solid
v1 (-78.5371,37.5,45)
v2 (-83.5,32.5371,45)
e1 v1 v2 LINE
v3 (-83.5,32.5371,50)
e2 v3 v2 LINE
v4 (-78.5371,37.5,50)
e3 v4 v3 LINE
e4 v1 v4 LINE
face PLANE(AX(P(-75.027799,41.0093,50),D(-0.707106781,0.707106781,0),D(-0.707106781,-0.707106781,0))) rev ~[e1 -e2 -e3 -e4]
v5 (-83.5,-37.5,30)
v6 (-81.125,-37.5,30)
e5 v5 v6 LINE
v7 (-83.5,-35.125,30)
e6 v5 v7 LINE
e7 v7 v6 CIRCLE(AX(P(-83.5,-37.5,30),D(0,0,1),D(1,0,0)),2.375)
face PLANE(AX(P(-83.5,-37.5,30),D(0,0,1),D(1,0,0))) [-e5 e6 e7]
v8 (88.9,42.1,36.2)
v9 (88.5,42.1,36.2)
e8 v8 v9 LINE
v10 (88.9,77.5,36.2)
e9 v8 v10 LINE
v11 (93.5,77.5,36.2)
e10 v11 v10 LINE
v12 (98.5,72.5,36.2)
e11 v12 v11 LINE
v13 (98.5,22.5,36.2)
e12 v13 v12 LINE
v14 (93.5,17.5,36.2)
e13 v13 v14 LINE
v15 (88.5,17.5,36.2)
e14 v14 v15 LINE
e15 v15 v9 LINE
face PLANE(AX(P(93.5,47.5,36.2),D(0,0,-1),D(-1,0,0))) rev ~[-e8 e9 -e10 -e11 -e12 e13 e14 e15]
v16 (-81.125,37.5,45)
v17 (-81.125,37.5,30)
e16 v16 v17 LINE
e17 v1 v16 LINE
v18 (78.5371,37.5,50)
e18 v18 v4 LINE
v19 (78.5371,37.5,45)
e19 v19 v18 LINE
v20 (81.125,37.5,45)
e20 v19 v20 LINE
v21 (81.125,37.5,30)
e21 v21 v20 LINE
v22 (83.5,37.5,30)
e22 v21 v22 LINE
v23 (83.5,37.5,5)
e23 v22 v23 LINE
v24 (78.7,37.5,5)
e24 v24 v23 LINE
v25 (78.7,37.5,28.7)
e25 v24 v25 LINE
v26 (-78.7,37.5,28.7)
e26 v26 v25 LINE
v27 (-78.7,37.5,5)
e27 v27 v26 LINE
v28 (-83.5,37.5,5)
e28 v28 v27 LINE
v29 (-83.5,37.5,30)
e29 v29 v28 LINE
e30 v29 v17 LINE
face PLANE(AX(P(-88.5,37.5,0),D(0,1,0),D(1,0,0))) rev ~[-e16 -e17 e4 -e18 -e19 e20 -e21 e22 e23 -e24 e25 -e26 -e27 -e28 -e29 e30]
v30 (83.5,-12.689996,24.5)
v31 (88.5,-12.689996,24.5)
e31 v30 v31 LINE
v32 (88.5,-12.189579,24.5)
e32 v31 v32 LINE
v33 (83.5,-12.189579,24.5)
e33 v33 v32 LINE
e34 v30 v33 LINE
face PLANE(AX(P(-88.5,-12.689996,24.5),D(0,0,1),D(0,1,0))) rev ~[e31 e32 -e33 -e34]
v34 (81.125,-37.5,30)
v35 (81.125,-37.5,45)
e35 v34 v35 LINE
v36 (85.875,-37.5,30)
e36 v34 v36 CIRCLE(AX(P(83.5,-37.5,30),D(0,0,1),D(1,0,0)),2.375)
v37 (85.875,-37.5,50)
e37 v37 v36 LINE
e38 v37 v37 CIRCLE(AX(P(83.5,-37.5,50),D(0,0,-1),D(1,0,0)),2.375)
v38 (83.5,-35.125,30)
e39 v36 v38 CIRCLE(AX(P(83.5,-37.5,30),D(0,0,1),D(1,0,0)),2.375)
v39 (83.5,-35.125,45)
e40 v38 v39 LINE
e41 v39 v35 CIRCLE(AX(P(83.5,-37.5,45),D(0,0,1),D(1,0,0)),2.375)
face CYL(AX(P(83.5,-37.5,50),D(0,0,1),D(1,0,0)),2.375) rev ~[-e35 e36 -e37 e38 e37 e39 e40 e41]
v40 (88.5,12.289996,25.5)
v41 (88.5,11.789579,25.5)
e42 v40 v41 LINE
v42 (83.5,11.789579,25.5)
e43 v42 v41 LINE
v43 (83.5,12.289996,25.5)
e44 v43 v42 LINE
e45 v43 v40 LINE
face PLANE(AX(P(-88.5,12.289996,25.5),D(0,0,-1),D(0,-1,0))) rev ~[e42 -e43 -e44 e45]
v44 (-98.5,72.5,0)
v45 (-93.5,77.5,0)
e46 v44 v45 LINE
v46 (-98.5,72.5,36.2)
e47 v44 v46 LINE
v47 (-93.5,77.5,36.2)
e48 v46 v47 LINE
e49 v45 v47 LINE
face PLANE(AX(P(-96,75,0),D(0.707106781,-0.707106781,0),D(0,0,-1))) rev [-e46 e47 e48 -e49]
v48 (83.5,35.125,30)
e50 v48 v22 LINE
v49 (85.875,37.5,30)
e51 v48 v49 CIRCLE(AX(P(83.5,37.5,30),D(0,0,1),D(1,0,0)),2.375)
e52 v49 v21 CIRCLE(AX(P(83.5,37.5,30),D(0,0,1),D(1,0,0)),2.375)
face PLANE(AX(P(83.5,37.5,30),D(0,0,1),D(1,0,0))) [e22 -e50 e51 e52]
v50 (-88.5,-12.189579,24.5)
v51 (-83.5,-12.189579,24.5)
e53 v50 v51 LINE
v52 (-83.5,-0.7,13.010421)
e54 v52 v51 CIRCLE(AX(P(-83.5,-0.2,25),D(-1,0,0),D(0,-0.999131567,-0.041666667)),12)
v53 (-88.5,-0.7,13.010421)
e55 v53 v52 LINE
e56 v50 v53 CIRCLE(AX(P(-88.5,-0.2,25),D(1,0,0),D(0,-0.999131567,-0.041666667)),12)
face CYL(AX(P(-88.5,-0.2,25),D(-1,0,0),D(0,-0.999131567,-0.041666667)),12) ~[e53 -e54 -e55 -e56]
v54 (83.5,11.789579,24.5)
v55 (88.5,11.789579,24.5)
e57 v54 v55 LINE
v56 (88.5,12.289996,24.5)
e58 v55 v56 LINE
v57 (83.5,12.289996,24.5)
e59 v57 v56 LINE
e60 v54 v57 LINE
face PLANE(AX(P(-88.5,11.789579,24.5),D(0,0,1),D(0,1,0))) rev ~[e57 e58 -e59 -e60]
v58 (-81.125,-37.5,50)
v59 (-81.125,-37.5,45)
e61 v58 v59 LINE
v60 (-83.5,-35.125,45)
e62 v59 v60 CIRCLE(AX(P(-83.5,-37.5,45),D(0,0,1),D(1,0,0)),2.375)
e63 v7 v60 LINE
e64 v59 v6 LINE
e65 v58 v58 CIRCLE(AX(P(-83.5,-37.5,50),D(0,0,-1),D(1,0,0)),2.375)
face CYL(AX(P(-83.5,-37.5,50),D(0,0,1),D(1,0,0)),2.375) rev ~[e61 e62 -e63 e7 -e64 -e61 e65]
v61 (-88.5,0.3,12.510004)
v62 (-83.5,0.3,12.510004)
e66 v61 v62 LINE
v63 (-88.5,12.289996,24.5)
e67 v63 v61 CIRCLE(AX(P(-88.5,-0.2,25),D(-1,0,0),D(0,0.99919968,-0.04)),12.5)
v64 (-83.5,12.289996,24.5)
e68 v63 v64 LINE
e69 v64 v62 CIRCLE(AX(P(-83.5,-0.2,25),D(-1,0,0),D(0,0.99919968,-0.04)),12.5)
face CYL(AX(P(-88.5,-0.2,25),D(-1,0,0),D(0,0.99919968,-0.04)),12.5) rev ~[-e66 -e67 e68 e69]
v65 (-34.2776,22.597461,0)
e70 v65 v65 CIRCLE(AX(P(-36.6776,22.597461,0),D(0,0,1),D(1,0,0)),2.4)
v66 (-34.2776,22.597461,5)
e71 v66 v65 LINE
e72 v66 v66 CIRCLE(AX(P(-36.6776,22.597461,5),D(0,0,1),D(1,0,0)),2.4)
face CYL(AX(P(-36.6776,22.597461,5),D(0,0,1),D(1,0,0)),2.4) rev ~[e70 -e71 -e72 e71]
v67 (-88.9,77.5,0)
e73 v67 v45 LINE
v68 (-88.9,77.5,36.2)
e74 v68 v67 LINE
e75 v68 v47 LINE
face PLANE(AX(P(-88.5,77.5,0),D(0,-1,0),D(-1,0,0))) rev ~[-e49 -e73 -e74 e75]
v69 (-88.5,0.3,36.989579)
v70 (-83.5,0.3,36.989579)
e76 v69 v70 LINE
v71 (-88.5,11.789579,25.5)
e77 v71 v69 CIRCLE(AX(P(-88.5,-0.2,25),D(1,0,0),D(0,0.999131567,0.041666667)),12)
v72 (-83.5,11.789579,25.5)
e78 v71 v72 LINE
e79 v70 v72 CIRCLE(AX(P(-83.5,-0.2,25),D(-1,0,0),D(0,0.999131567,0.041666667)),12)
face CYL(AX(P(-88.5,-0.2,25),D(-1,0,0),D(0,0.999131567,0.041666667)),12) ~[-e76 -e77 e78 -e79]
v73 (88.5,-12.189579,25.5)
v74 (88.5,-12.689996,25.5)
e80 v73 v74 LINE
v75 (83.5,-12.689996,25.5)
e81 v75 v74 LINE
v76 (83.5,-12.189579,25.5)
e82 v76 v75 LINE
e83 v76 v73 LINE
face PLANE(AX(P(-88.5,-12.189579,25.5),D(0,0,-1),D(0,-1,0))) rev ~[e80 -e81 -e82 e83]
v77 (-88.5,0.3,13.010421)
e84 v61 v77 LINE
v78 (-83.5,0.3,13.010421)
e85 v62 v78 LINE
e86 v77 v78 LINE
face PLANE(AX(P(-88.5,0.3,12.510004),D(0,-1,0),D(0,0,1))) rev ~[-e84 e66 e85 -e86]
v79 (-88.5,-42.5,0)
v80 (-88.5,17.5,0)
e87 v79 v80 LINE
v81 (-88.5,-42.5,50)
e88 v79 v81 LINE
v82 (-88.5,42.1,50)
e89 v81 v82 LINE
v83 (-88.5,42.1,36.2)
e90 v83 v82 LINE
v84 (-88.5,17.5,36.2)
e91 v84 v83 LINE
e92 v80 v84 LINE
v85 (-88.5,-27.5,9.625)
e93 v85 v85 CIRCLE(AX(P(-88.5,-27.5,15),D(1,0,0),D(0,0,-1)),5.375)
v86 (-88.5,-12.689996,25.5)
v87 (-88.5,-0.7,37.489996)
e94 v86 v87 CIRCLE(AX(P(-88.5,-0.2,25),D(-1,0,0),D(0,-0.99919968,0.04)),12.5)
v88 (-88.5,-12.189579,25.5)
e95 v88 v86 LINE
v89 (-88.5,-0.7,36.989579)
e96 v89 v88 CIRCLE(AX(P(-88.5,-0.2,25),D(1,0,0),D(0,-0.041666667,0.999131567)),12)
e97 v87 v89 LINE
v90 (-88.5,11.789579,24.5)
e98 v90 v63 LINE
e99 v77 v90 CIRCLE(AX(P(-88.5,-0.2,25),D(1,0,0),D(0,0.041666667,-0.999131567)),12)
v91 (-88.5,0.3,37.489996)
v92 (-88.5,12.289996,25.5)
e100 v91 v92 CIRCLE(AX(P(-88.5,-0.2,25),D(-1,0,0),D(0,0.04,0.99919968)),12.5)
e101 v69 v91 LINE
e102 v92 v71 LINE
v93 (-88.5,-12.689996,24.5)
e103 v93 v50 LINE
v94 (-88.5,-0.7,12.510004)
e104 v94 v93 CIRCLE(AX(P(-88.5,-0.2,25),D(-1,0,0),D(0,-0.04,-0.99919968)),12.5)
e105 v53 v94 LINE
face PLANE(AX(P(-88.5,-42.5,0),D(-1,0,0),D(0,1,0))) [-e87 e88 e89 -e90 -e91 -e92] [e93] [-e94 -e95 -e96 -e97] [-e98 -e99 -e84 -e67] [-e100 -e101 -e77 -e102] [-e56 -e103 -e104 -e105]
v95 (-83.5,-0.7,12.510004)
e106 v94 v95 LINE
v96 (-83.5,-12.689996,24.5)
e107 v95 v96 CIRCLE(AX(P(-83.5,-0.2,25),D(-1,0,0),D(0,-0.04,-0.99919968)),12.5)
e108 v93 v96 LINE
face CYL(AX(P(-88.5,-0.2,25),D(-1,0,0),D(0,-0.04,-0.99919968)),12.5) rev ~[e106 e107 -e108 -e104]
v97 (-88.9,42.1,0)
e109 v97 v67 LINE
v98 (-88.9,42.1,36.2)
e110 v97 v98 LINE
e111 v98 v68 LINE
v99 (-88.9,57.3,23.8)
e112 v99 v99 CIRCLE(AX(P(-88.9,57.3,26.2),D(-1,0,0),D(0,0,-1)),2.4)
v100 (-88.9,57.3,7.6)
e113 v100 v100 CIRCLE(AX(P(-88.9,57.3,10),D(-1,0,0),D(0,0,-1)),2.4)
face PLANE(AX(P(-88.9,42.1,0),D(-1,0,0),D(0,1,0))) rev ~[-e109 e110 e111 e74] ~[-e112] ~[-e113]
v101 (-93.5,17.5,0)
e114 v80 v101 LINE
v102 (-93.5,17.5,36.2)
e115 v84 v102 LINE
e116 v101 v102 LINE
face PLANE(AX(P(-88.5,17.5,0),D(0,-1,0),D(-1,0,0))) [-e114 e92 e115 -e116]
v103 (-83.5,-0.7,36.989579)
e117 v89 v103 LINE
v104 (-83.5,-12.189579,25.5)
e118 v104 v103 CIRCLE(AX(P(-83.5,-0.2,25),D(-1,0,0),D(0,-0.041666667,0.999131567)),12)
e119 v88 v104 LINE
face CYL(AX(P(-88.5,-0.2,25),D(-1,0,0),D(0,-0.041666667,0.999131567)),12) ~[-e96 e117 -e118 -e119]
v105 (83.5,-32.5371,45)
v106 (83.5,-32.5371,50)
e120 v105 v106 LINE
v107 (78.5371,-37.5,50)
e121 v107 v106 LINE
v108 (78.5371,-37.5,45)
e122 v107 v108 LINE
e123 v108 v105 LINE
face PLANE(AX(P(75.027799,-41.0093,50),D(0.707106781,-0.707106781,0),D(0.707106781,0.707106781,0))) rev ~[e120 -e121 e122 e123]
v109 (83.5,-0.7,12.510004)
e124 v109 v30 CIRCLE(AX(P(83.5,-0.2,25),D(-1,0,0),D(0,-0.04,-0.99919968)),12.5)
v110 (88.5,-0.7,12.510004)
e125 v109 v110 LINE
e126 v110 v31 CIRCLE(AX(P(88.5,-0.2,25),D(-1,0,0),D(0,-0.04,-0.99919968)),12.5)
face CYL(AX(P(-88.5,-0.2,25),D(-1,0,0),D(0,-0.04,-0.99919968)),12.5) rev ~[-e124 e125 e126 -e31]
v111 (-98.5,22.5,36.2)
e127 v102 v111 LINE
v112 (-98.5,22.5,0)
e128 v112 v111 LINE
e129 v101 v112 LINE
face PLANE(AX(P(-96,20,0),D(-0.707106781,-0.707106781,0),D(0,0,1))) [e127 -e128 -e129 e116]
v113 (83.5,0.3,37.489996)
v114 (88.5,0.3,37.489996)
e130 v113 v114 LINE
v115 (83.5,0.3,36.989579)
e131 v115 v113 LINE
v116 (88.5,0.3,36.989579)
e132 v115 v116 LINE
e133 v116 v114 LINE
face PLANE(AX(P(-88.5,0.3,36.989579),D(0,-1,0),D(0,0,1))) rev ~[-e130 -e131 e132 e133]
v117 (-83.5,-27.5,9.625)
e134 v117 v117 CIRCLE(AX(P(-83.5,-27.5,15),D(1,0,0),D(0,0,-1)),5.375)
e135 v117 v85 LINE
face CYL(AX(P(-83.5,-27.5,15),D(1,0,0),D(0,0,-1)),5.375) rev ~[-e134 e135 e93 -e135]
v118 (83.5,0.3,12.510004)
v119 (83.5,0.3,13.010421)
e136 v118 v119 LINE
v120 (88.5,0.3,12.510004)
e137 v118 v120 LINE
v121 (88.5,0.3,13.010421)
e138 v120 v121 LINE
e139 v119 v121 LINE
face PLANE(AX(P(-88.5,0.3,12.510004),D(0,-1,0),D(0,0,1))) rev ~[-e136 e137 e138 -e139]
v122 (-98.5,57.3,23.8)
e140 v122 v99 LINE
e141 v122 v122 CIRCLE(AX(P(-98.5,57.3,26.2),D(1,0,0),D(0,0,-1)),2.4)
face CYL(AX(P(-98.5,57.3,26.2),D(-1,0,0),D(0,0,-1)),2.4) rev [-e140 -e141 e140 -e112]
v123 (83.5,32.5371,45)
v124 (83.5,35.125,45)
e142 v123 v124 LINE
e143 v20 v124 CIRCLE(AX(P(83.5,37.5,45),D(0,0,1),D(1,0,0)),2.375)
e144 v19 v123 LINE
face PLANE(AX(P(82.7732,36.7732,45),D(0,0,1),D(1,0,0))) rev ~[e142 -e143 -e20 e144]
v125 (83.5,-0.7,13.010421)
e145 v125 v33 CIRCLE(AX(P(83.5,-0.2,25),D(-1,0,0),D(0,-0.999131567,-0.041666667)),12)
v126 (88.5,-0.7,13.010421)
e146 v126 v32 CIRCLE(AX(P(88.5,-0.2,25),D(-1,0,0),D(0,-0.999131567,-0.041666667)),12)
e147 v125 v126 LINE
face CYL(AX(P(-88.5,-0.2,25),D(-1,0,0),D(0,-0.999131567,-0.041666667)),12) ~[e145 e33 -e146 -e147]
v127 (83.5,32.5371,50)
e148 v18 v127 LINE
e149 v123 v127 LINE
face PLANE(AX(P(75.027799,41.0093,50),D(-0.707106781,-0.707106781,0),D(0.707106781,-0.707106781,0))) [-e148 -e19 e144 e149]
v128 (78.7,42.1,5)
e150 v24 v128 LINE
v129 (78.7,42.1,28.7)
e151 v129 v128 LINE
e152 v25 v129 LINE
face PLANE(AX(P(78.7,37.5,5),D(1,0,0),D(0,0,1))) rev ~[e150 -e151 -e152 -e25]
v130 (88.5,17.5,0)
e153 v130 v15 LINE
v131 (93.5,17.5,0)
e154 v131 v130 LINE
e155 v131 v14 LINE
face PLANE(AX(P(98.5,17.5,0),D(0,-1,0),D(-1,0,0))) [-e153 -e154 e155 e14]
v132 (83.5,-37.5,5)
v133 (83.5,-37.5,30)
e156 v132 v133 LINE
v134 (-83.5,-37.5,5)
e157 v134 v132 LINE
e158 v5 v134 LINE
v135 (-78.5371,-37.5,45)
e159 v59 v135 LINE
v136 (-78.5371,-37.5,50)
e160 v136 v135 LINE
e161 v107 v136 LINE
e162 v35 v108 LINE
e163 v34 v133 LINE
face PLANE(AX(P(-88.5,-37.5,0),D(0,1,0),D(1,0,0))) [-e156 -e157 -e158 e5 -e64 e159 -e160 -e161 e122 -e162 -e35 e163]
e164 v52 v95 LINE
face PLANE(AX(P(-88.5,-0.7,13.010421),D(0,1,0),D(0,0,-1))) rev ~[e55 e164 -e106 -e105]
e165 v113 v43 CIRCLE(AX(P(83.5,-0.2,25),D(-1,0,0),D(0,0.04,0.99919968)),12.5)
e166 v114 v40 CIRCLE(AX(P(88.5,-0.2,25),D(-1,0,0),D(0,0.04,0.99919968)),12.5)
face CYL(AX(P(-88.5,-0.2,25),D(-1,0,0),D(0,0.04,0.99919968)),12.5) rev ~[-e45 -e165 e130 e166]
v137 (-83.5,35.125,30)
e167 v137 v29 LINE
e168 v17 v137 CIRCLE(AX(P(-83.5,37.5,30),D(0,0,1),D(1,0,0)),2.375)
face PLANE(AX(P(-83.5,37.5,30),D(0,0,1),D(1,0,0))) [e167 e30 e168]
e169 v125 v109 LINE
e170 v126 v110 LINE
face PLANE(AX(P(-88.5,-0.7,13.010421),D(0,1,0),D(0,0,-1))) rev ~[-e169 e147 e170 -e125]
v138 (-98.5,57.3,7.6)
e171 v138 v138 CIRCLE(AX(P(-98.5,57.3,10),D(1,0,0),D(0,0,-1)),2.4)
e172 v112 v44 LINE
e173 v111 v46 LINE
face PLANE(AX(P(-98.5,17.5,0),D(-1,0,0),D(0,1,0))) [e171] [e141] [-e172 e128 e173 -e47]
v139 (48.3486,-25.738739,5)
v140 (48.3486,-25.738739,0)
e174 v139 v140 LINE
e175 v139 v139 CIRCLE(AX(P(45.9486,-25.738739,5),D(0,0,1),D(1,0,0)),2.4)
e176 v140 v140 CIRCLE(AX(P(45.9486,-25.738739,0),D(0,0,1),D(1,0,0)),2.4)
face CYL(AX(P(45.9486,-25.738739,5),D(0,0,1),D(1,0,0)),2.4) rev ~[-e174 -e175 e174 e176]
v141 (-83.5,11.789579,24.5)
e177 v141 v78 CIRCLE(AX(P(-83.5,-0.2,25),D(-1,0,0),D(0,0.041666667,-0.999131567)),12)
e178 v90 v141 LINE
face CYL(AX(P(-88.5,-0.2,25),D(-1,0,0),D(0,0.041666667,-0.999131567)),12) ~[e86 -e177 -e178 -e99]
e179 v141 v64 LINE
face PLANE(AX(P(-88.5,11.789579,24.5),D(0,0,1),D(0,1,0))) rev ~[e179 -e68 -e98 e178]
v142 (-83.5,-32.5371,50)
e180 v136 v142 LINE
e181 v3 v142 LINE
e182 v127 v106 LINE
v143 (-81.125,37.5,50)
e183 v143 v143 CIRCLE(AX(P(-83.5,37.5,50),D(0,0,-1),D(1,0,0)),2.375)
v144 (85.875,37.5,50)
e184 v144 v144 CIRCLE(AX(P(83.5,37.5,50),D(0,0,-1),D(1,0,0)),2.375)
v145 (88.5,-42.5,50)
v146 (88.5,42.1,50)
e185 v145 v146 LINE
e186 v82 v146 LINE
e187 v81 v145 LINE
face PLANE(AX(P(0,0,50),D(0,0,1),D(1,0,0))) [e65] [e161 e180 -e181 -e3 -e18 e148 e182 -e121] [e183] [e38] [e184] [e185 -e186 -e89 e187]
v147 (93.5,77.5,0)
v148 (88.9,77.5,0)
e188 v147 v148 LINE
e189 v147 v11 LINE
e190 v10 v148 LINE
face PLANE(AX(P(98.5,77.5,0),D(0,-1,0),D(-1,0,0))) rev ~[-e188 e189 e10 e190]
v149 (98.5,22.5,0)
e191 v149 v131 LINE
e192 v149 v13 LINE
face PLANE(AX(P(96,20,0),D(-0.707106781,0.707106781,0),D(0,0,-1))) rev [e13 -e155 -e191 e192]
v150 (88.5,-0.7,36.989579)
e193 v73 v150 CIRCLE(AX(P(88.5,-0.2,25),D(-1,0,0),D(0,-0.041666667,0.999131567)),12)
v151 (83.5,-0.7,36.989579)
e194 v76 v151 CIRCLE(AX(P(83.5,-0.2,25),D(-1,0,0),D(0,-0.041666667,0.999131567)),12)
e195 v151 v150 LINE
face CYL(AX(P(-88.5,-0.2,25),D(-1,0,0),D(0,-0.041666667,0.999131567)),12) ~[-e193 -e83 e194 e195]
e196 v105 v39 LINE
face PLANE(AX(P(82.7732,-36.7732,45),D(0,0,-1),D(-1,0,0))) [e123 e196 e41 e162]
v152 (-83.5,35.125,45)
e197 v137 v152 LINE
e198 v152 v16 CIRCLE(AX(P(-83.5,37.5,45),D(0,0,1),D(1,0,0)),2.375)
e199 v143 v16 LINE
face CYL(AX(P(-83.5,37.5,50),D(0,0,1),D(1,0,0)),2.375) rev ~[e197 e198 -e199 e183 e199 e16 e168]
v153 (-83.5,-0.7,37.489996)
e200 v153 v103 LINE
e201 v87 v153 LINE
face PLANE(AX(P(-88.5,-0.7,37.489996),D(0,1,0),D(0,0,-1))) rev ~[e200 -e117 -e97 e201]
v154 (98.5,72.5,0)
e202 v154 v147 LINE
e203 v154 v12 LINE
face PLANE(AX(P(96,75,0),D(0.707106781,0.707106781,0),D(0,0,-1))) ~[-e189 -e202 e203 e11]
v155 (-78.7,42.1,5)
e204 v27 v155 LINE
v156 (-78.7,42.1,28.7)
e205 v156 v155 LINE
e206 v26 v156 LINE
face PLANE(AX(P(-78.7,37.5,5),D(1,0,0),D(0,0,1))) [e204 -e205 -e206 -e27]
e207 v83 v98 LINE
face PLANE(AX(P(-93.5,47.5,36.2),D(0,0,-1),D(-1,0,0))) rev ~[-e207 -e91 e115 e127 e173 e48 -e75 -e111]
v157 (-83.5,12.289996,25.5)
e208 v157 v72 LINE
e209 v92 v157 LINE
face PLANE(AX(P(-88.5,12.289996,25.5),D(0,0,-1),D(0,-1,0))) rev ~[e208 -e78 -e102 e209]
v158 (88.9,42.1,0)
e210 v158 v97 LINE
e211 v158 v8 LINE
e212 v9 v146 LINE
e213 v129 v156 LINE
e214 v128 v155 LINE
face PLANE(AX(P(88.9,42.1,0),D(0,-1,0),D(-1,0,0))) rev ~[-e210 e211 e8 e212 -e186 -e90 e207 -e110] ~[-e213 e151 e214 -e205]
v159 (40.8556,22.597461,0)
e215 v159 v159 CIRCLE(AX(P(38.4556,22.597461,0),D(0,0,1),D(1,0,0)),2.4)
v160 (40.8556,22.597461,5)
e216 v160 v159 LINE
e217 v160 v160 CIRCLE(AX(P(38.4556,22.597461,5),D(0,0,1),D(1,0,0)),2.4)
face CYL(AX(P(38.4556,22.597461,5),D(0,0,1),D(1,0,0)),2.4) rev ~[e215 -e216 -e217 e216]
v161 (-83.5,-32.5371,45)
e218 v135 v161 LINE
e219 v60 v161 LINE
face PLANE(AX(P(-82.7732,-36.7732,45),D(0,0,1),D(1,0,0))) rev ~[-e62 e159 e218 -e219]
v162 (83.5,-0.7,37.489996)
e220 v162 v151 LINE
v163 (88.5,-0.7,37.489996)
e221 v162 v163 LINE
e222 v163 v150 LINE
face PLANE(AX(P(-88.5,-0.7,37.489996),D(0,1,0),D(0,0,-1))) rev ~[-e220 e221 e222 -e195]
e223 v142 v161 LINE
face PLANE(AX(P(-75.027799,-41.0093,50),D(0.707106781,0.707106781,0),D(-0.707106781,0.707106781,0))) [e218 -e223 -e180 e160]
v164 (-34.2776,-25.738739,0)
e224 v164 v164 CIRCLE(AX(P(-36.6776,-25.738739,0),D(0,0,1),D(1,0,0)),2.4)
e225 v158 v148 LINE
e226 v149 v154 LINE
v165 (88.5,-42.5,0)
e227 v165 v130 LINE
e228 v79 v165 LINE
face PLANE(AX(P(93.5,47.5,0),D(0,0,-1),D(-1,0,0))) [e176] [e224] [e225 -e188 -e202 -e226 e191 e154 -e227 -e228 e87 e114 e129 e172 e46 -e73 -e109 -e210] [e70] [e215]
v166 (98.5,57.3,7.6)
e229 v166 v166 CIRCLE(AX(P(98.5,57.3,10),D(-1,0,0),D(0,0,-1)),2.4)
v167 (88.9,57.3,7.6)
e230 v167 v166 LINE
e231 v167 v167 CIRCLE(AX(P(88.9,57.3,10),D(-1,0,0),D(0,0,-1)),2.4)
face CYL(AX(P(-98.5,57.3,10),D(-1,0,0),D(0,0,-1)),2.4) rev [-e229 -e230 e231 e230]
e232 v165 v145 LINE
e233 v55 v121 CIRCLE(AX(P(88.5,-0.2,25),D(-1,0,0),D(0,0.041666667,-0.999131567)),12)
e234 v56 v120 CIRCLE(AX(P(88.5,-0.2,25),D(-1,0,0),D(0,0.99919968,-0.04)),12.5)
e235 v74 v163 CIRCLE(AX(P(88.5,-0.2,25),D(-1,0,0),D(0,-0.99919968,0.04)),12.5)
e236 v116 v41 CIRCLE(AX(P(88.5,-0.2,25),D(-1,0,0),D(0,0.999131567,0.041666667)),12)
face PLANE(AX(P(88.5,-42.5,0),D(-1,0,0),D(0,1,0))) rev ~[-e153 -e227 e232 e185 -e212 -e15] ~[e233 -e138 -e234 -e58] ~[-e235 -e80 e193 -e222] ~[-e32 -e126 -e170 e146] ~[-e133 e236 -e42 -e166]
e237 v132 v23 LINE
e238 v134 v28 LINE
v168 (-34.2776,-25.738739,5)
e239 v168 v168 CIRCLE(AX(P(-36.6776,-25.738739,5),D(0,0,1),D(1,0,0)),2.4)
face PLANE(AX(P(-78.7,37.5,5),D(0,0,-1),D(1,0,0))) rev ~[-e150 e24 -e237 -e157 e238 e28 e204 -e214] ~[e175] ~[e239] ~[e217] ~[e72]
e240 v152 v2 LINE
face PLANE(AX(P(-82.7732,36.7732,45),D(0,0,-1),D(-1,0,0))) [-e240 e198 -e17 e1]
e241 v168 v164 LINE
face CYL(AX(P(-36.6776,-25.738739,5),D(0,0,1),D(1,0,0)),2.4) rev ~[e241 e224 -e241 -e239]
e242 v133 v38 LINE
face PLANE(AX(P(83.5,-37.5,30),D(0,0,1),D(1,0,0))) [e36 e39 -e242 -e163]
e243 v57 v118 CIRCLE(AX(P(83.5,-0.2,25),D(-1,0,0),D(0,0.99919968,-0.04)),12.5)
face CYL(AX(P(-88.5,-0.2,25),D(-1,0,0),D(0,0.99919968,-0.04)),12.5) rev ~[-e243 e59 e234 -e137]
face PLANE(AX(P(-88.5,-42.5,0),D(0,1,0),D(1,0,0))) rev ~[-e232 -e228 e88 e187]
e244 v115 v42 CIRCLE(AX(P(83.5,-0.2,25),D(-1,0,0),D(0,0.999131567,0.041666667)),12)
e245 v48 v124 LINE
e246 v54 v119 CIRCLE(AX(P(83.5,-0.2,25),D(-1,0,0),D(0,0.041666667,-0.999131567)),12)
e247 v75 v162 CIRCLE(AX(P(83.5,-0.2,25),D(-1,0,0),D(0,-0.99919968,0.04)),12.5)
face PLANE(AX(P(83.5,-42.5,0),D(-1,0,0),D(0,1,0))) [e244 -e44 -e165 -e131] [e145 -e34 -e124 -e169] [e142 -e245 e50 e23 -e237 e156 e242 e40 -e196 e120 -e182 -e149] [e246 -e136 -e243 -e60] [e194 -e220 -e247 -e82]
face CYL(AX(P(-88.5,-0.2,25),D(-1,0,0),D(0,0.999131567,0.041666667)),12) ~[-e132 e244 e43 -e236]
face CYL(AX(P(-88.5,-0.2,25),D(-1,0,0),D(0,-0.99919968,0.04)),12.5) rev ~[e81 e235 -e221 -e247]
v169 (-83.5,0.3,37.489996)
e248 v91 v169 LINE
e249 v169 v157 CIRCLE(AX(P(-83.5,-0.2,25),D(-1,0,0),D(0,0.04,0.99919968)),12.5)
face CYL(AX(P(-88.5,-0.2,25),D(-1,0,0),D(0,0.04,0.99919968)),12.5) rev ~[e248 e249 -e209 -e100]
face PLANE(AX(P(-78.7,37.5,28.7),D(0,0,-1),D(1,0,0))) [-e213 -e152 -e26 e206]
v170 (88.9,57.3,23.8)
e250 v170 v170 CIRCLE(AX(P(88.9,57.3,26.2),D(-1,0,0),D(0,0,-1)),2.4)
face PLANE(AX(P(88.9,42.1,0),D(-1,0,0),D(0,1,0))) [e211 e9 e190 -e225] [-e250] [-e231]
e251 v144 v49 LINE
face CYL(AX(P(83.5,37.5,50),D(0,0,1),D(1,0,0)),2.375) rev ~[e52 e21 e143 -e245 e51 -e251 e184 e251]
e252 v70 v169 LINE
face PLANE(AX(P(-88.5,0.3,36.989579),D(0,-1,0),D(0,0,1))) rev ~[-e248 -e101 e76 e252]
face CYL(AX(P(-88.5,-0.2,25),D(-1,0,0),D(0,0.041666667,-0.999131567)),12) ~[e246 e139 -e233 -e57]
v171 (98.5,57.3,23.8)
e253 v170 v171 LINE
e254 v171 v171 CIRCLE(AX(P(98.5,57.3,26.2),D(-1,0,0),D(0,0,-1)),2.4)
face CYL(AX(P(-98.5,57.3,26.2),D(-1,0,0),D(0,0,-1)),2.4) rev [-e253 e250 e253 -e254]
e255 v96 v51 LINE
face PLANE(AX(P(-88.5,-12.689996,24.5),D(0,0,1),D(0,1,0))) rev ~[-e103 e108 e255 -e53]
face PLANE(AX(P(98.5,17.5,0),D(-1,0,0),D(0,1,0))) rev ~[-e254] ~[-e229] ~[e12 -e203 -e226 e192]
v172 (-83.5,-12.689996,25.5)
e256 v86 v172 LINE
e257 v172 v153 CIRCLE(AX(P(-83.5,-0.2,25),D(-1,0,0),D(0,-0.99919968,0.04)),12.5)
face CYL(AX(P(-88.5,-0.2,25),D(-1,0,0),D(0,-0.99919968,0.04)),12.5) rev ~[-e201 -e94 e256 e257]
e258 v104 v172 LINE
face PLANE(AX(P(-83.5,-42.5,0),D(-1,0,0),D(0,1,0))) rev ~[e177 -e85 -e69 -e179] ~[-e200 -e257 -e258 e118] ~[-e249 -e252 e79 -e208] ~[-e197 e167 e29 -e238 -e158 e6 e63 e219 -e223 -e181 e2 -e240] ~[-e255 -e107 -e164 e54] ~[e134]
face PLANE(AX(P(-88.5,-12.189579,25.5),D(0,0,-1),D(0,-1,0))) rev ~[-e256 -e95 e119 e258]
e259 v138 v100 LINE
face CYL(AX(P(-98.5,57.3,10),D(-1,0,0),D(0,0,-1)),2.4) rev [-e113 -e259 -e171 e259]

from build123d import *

# Parameters (mm, degrees)
SKETCH1_W           = 177
SKETCH1_H           = 85
BOSS_EXTRUDE1_DEPTH = 50
SHELL1_T            = -5
SKETCH2_W           = 157.4
SKETCH2_H           = 23.7
CUT_EXTRUDE1_DEPTH  = 6
SKETCH4_R           = 5.375
CUT_EXTRUDE2_DEPTH  = 6
SKETCH6_R           = 2.375
BOSS_EXTRUDE3_DEPTH = 5
SKETCH7_R           = 2.375
CUT_EXTRUDE4_DEPTH  = 20
SKETCH8_W           = 10
SKETCH8_H           = 60
BOSS_EXTRUDE4_DEPTH = 36.2
CHAMFER1_SIZE       = 5
SKETCH9_W           = 177.8
SKETCH9_H           = 35.8
SKETCH9_W_2         = 177
SKETCH9_H_2         = 35
CUT_EXTRUDE5_DEPTH  = 51
SKETCH10_R          = 2.4
CUT_EXTRUDE6_DEPTH  = 198
SKETCH11_R          = 2.4
CUT_EXTRUDE8_DEPTH  = 5
CUT_EXTRUDE14_DEPTH = 188


with BuildPart() as part:
    # Sketch1 → Boss-Extrude1 (new body)
    with BuildSketch(Plane.XY):
        Rectangle(SKETCH1_W, SKETCH1_H)
    extrude(amount=BOSS_EXTRUDE1_DEPTH)

    # Shell1
    shell1_openings = [part.faces().sort_by_distance(p)[0] for p in [
        (0, 0, 50),
    ]]
    offset(amount=SHELL1_T, openings=shell1_openings, kind=Kind.INTERSECTION)

    # Sketch2 → Cut-Extrude1 (cut, through all)
    with BuildSketch(Plane.XZ.offset(-37.5)):
        with Locations((0, 16.85)):
            Rectangle(SKETCH2_W, SKETCH2_H)
    extrude(amount=-CUT_EXTRUDE1_DEPTH, mode=Mode.SUBTRACT)

    # Sketch4 → Cut-Extrude2 (cut, through all)
    with BuildSketch(Plane(origin=(-83.5, 0, 0), x_dir=(0, 0, -1), z_dir=(1, 0, 0))):
        with Locations((-15, -27.5)):
            Circle(SKETCH4_R)
    extrude(amount=-CUT_EXTRUDE2_DEPTH, mode=Mode.SUBTRACT)

    # Sketch6 → Boss-Extrude3 (add)
    with BuildSketch(Plane.XY.offset(50)):
        Polygon((87.009300393, 41.009300393), (75.027799397, 41.009300393), (87.009300393, 29.027799397), align=None)
        with Locations((83.5, 37.5)):
            Circle(SKETCH6_R, mode=Mode.SUBTRACT)
        Polygon((75.027799397, -41.009300393), (87.009300393, -29.027799397), (87.009300393, -41.009300393), align=None)
        with Locations((83.5, -37.5)):
            Circle(SKETCH6_R, mode=Mode.SUBTRACT)
        Polygon((-87.009300393, -41.009300393), (-75.027799397, -41.009300393), (-87.009300393, -29.027799397), align=None)
        with Locations((-83.5, -37.5)):
            Circle(SKETCH6_R, mode=Mode.SUBTRACT)
        Polygon((-75.027799397, 41.009300393), (-87.009300393, 29.027799397), (-87.009300393, 41.009300393), align=None)
        with Locations((-83.5, 37.5)):
            Circle(SKETCH6_R, mode=Mode.SUBTRACT)
    extrude(amount=-BOSS_EXTRUDE3_DEPTH)

    # Sketch7 → Cut-Extrude4 (cut)
    with BuildSketch(Plane.XY.offset(50)):
        with Locations((83.5, 37.5)):
            Circle(SKETCH7_R)
        with Locations((83.5, -37.5)):
            Circle(SKETCH7_R)
        with Locations((-83.5, -37.5)):
            Circle(SKETCH7_R)
        with Locations((-83.5, 37.5)):
            Circle(SKETCH7_R)
    extrude(amount=-CUT_EXTRUDE4_DEPTH, mode=Mode.SUBTRACT)

    # Sketch8 → Boss-Extrude4 (add)
    with BuildSketch(Plane(origin=(0, 0, 0), x_dir=(-1, 0, 0), z_dir=(0, 0, -1))):
        with Locations((-93.5, 47.5)):
            Rectangle(SKETCH8_W, SKETCH8_H)
        with Locations((93.5, 47.5)):
            Rectangle(SKETCH8_W, SKETCH8_H)
    extrude(amount=-BOSS_EXTRUDE4_DEPTH)

    # Chamfer1
    chamfer1_edges = [part.edges().sort_by_distance(p)[0] for p in [
        (98.5, 17.5, 18.1),
        (98.5, 77.5, 18.1),
        (-98.5, 77.5, 18.1),
        (-98.5, 17.5, 18.1),
    ]]
    chamfer(chamfer1_edges, length=CHAMFER1_SIZE)

    # Sketch9 → Cut-Extrude5 (cut, through all)
    with BuildSketch(Plane(origin=(0, 0, 0), x_dir=(-1, 0, 0), z_dir=(0, 0, -1))):
        with Locations((0, 60)):
            Rectangle(SKETCH9_W, SKETCH9_H)
        with Locations((0, 60)):
            Rectangle(SKETCH9_W_2, SKETCH9_H_2, mode=Mode.SUBTRACT)
    extrude(amount=-CUT_EXTRUDE5_DEPTH, mode=Mode.SUBTRACT)

    # Sketch10 → Cut-Extrude6 (cut, through all)
    with BuildSketch(Plane(origin=(-98.5, 0, 0), x_dir=(0, 0, -1), z_dir=(1, 0, 0))):
        with Locations((-26.2, 57.3)):
            Circle(SKETCH10_R)
        with Locations((-10, 57.3)):
            Circle(SKETCH10_R)
    extrude(amount=CUT_EXTRUDE6_DEPTH, mode=Mode.SUBTRACT)

    # Sketch11 → Cut-Extrude8 (cut)
    with BuildSketch(Plane.XY.offset(5)):
        with Locations((45.9486, -25.738739303)):
            Circle(SKETCH11_R)
        with Locations((38.4556, 22.597460697)):
            Circle(SKETCH11_R)
        with Locations((-36.6776, 22.597460697)):
            Circle(SKETCH11_R)
        with Locations((-36.6776, -25.738739303)):
            Circle(SKETCH11_R)
    extrude(amount=-CUT_EXTRUDE8_DEPTH, mode=Mode.SUBTRACT)

    # Sketch12 → Cut-Extrude14 (cut, through all)
    with BuildSketch(Plane.ZY.offset(88.5)):
        with BuildLine():
            Line((24.5, 11.789578808), (24.5, 12.289995997))
            ThreePointArc((24.5, 12.289995997), (16.161165235, 8.638834765), (12.510004003, 0.3))
            Line((12.510004003, 0.3), (13.010421192, 0.3))
            ThreePointArc((13.010421192, 0.3), (16.514718626, 8.285281374), (24.5, 11.789578808))
        make_face()
        with BuildLine():
            Line((13.010421192, -0.7), (12.510004003, -0.7))
            ThreePointArc((12.510004003, -0.7), (16.161165235, -9.038834765), (24.5, -12.689995997))
            Line((24.5, -12.689995997), (24.5, -12.189578808))
            ThreePointArc((24.5, -12.189578808), (16.514718626, -8.685281374), (13.010421192, -0.7))
        make_face()
        with BuildLine():
            Line((37.489995997, -0.7), (36.989578808, -0.7))
            ThreePointArc((36.989578808, -0.7), (33.485281374, -8.685281374), (25.5, -12.189578808))
            Line((25.5, -12.189578808), (25.5, -12.689995997))
            ThreePointArc((25.5, -12.689995997), (33.838834765, -9.038834765), (37.489995997, -0.7))
        make_face()
        with BuildLine():
            ThreePointArc((37.489995997, 0.3), (33.838834765, 8.638834765), (25.5, 12.289995997))
            Line((25.5, 12.289995997), (25.5, 11.789578808))
            ThreePointArc((25.5, 11.789578808), (33.485281374, 8.285281374), (36.989578808, 0.3))
            Line((36.989578808, 0.3), (37.489995997, 0.3))
        make_face()
    extrude(amount=-CUT_EXTRUDE14_DEPTH, mode=Mode.SUBTRACT)


solid = part.part
